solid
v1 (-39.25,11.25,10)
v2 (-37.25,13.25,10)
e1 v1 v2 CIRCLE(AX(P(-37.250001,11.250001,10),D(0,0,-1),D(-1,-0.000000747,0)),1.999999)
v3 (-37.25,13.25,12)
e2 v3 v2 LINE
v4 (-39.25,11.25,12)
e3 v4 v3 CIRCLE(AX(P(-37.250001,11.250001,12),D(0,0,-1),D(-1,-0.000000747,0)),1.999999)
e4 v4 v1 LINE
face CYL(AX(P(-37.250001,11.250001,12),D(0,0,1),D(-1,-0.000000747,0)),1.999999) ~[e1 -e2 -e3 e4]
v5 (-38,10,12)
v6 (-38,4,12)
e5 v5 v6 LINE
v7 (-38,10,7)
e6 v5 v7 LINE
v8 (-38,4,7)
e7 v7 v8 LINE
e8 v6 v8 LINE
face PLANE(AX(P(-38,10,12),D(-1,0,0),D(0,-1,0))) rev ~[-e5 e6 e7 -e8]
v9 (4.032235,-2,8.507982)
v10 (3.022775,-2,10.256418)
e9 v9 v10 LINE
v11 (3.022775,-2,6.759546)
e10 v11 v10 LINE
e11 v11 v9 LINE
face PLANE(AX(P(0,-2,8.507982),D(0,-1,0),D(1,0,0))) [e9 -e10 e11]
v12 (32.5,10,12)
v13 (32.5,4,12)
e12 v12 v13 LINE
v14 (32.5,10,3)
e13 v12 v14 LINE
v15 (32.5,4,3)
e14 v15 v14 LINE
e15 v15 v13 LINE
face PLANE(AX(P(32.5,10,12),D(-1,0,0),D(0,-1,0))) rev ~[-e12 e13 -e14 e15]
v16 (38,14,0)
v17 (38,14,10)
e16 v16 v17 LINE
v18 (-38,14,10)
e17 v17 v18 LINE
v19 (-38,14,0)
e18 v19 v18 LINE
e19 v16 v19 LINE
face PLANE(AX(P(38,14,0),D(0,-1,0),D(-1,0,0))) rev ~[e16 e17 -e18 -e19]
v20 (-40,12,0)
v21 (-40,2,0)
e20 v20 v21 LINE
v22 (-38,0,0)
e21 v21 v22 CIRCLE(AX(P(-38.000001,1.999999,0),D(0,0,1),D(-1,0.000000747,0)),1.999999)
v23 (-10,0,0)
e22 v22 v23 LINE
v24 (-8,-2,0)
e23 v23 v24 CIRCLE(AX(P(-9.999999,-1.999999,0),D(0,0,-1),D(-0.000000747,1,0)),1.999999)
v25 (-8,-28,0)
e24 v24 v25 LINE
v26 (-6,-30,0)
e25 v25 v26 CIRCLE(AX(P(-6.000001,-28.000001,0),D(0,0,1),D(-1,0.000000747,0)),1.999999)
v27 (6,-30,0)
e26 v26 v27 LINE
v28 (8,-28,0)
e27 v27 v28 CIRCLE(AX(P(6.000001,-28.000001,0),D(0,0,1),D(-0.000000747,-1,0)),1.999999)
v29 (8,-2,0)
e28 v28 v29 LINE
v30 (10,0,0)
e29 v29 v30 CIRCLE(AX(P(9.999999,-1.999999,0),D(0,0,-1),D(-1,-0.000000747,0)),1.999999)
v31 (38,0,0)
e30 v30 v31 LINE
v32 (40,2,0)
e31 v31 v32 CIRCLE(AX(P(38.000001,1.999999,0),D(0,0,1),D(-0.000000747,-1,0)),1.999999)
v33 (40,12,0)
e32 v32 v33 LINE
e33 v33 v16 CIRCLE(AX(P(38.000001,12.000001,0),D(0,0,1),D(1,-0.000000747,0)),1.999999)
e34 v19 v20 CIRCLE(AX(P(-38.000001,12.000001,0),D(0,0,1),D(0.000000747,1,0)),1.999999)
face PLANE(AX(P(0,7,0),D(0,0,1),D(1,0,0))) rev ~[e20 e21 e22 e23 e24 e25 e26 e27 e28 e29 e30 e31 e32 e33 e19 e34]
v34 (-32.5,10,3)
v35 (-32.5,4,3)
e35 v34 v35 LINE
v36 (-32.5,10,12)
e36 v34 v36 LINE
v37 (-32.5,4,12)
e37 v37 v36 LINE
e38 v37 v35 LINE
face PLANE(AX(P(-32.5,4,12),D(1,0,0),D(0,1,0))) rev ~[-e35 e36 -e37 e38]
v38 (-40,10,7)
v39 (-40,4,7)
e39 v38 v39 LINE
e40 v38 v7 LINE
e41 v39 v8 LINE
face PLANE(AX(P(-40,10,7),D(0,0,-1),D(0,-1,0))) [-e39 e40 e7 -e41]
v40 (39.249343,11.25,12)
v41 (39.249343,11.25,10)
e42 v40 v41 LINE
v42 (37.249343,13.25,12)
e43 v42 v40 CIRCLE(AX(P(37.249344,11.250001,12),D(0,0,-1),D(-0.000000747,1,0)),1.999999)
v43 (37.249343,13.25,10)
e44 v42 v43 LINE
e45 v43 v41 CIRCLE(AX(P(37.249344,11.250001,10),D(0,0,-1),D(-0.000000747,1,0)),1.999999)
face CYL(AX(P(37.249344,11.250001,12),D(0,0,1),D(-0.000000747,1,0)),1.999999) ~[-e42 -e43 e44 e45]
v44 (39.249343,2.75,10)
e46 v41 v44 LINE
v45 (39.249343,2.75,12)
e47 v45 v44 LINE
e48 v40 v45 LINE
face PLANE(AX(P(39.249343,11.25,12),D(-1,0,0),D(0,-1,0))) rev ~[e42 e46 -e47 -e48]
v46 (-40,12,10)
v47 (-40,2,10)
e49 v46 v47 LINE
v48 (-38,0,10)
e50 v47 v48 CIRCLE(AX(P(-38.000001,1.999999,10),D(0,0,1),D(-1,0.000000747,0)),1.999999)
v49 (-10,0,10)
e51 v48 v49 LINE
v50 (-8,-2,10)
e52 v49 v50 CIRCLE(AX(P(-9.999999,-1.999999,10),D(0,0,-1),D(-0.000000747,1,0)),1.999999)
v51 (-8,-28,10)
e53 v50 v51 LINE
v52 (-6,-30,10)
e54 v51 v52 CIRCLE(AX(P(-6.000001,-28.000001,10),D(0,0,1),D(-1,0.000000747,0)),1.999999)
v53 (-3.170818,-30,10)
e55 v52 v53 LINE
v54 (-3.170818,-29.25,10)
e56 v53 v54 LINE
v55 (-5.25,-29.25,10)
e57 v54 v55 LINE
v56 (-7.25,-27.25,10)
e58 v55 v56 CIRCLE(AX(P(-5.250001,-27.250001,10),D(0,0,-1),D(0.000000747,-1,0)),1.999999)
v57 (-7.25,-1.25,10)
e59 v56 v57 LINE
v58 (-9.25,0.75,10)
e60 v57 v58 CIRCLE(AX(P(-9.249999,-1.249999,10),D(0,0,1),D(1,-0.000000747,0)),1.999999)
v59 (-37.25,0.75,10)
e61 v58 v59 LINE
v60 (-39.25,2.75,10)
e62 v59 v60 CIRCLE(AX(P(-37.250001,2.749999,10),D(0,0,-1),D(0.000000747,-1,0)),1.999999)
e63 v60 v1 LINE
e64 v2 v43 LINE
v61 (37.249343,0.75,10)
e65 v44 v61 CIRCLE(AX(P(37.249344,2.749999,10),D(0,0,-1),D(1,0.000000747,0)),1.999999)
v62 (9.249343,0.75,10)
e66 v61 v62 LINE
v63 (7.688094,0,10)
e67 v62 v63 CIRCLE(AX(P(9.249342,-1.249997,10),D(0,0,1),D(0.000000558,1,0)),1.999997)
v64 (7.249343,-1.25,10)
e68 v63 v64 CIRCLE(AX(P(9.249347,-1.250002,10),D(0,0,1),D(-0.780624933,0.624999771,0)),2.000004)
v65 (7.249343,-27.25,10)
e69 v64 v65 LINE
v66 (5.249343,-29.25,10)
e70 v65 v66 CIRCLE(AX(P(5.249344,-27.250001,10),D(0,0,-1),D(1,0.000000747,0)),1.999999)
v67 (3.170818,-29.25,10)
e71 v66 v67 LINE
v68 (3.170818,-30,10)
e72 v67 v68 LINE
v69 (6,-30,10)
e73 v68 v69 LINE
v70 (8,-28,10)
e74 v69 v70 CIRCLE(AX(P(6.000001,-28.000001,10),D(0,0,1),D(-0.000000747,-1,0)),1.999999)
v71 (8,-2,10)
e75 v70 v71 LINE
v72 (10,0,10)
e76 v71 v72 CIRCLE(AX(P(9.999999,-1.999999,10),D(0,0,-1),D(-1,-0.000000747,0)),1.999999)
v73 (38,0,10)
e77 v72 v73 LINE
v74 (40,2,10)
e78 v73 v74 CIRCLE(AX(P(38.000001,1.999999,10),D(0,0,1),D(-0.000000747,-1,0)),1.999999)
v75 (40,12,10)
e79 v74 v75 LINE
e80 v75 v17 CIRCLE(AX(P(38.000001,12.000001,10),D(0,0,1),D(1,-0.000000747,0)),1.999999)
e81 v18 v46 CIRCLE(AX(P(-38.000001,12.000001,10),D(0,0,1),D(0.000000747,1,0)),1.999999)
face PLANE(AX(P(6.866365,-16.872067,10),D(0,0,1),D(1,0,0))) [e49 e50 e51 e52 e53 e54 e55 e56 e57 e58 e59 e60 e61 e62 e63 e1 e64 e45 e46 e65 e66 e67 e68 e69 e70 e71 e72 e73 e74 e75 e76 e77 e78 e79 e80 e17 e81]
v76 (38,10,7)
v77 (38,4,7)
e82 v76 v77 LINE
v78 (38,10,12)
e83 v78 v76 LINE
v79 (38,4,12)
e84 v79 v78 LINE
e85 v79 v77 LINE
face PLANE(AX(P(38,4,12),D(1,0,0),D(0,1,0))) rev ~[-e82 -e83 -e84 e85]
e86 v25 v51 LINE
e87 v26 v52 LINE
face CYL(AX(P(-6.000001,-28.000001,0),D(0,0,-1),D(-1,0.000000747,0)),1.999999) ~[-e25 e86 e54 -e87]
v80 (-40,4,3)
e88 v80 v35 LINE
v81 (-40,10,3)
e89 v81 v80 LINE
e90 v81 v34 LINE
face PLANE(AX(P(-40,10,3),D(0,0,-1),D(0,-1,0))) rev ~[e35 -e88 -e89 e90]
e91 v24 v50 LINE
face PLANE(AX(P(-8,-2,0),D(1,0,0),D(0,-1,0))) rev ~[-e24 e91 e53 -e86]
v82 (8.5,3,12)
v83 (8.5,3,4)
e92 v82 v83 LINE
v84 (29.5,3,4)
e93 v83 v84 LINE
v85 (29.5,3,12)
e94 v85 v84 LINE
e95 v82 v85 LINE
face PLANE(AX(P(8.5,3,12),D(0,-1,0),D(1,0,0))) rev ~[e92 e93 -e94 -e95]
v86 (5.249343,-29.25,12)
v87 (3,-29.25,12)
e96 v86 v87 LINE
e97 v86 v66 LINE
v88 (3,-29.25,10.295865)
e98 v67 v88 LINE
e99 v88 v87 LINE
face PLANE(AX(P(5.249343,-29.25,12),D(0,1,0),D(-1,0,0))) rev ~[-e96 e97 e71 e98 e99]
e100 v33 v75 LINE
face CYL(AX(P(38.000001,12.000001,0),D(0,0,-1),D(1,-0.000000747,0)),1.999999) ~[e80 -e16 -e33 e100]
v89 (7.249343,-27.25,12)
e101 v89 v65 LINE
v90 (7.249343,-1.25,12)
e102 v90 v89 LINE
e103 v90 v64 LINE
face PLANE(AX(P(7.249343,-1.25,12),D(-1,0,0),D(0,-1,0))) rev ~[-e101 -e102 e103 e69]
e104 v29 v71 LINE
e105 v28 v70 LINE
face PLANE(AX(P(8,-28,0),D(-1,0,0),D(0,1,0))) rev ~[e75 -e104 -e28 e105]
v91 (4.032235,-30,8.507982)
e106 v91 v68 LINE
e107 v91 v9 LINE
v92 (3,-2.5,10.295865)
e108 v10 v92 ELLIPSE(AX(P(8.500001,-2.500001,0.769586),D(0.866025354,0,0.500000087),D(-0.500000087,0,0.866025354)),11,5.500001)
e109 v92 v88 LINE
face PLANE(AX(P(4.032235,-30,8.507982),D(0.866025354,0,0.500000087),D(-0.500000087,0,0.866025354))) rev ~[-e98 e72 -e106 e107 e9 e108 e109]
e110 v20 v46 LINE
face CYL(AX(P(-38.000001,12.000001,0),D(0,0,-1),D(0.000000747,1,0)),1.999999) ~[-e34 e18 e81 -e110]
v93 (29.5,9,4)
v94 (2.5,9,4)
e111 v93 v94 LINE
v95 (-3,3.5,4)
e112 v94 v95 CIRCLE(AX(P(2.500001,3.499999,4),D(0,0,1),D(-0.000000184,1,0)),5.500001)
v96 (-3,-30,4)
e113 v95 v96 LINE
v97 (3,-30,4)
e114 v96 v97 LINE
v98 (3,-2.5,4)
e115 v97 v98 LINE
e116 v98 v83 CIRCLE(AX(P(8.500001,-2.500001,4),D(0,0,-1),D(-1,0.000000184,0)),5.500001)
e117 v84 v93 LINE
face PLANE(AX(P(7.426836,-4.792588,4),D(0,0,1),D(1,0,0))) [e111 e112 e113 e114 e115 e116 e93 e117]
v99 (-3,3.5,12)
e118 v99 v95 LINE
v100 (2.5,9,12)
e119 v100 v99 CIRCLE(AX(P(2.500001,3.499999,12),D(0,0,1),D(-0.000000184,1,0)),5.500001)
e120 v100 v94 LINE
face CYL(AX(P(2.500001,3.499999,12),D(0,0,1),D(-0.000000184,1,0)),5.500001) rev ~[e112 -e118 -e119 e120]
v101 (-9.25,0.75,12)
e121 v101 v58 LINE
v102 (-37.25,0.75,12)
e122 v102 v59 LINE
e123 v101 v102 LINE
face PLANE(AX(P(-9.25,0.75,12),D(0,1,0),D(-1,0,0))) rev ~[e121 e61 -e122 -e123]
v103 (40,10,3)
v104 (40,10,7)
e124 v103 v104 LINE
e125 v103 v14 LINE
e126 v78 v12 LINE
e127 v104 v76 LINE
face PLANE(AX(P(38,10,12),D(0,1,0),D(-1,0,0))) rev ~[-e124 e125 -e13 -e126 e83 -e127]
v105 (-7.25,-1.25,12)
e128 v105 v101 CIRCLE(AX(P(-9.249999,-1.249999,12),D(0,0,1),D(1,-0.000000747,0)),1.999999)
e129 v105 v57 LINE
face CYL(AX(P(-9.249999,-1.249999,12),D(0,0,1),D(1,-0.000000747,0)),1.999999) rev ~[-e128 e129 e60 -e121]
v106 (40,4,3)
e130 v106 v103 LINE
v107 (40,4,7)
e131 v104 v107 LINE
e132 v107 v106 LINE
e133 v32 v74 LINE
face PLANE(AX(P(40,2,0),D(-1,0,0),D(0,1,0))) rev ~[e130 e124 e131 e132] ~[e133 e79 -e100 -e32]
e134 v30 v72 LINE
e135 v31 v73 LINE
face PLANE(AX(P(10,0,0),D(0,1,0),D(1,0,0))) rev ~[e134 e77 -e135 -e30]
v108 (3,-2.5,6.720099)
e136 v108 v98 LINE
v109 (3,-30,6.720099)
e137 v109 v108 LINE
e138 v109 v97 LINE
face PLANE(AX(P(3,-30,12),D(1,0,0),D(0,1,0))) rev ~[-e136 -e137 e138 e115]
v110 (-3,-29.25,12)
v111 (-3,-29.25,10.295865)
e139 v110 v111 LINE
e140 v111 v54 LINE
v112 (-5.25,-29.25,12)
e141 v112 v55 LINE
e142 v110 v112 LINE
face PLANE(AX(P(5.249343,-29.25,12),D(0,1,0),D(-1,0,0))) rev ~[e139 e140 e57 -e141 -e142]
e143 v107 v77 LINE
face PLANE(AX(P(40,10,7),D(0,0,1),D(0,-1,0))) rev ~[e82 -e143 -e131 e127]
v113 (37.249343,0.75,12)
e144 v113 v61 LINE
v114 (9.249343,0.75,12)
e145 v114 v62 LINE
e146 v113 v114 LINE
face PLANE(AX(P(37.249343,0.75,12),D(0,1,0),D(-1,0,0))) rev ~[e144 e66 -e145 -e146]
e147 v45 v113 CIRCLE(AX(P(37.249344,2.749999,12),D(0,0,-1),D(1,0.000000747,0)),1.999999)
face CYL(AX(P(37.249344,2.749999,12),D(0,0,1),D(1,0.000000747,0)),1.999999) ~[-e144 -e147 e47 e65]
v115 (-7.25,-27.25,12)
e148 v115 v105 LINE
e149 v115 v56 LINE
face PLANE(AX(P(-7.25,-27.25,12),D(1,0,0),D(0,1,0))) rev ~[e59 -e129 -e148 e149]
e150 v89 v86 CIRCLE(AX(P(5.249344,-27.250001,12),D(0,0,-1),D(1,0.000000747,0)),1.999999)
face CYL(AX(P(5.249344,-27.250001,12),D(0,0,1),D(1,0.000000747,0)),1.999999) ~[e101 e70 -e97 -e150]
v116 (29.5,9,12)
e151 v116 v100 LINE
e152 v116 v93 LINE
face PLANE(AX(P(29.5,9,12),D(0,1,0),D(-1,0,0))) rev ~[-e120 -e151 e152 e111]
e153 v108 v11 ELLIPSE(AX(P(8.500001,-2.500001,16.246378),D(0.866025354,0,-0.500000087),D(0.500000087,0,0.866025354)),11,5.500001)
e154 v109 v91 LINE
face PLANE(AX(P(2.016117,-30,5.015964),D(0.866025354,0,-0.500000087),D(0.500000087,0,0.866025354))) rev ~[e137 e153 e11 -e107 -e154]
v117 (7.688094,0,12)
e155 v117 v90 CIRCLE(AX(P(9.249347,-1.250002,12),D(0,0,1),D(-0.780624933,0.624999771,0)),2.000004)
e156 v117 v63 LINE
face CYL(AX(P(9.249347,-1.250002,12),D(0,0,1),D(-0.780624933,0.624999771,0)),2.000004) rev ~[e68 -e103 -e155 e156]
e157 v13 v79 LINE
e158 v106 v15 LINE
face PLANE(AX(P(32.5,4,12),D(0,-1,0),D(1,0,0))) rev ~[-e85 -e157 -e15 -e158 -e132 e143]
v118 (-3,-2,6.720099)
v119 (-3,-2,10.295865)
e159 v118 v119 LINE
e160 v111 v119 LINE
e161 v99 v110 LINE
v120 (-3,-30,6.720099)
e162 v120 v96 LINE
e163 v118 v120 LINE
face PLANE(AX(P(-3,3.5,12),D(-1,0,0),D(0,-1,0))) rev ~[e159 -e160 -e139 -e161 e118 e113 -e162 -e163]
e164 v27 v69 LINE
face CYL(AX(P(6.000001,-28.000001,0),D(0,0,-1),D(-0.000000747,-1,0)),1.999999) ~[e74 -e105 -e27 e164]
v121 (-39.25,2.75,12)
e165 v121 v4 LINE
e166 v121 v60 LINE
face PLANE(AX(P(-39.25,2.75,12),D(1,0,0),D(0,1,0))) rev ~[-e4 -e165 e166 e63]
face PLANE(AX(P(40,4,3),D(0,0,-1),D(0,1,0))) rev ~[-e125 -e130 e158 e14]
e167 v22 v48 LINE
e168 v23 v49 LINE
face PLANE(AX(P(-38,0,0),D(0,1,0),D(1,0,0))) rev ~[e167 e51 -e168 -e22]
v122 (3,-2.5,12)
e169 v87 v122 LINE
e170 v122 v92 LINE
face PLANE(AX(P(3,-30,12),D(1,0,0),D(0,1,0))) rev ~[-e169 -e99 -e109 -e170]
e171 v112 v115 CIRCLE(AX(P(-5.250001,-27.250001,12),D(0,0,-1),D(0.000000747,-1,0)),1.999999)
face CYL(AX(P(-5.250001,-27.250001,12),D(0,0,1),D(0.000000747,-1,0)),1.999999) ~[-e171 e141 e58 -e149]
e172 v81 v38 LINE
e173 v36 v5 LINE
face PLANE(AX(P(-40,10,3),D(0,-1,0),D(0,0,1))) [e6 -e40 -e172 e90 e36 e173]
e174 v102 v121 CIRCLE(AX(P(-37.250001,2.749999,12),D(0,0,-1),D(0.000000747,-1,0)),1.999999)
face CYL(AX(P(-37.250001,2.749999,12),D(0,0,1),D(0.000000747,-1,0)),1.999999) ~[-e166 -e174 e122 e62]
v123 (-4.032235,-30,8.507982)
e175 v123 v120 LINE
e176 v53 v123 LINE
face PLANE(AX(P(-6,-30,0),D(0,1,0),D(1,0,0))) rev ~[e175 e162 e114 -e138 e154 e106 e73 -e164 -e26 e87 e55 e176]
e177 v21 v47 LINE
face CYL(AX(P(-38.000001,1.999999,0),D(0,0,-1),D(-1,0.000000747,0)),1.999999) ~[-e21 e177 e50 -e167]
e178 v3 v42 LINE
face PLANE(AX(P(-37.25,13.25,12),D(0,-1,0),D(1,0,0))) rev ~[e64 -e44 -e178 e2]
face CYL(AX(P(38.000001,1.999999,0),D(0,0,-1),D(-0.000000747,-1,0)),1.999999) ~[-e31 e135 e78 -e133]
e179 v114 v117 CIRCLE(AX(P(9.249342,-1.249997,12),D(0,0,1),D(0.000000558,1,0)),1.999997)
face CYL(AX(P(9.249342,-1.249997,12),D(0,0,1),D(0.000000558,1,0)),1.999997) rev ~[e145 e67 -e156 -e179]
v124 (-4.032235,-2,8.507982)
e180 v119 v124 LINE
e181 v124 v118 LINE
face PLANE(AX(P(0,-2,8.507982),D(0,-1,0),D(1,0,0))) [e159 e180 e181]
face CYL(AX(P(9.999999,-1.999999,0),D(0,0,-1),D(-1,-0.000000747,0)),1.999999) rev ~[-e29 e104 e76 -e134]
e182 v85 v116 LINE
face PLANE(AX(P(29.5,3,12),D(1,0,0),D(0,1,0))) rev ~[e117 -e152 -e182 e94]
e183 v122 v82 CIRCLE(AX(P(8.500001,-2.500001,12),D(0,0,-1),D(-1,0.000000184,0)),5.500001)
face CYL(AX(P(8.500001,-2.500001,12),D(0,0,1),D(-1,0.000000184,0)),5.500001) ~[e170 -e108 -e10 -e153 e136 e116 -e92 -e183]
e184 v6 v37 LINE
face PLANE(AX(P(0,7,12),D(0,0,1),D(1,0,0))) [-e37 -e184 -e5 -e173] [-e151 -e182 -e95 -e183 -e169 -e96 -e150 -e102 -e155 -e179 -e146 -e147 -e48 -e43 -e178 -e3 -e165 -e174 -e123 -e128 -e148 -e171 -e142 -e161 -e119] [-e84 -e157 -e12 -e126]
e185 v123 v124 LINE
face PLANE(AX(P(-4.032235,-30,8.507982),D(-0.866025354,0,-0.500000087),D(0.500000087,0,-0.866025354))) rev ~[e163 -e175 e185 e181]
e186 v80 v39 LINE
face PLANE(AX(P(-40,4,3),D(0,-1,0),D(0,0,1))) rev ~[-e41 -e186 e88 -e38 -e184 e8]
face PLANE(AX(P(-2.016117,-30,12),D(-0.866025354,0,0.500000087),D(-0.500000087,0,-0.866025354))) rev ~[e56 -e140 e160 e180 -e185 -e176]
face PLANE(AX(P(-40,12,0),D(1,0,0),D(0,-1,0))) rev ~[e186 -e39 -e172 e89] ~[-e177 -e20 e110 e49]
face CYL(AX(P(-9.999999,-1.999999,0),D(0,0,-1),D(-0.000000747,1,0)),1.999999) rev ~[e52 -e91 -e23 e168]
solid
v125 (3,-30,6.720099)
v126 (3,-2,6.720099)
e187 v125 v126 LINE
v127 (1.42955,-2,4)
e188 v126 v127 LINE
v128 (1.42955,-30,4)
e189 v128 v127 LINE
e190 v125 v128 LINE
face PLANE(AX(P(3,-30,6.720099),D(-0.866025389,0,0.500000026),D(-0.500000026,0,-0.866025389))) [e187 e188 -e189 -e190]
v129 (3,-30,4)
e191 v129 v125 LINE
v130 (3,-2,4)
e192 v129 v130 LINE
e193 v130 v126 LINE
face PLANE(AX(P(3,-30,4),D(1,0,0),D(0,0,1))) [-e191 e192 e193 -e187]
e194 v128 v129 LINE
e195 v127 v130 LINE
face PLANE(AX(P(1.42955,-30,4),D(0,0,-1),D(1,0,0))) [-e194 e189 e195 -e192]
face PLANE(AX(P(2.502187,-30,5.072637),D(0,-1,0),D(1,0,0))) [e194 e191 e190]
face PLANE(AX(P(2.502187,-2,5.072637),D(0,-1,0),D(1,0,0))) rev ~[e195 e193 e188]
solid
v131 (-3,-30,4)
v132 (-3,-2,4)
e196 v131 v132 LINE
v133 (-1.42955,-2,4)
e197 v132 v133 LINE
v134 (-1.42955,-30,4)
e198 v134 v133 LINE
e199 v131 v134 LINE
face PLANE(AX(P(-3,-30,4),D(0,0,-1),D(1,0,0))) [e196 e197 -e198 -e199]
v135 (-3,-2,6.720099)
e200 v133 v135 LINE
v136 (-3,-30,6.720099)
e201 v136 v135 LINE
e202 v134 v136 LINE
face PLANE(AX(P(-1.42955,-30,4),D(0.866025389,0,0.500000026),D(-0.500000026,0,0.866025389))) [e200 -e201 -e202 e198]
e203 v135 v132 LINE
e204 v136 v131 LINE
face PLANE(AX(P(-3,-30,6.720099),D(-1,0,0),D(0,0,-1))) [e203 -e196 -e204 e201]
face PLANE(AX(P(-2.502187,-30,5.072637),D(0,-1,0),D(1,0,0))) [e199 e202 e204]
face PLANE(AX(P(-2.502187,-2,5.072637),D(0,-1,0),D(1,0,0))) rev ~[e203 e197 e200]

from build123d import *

# Parameters (mm, degrees)
F1_DEPTH  = 12
F3_DEPTH  = 8
F5_DEPTH  = 28
F7_DEPTH  = 28
F9_DEPTH  = 8
F11_DEPTH = 7.5
F12_W     = 6
F12_H     = 4
F13_DEPTH = 7.5
F15_DEPTH = 2


with BuildPart() as f1:
    # F0 (on Top) → F1 (new body)
    with BuildSketch(Plane.XY):
        with BuildLine():
            Line((0, 0), (10, 0))
            Line((10, 0), (35, 0))
            ThreePointArc((35, 0), (36.414214, 0.585786), (37, 2))
            Line((37, 2), (37, 12))
            ThreePointArc((37, 12), (36.414214, 13.414214), (35, 14))
            Line((35, 14), (-35, 14))
            ThreePointArc((-35, 14), (-36.414214, 13.414214), (-37, 12))
            Line((-37, 12), (-37, 2))
            ThreePointArc((-37, 2), (-36.414214, 0.585786), (-35, 0))
            Line((-35, 0), (-10, 0))
            Line((-10, 0), (0, 0))
        make_face()
        with BuildLine():
            Line((-38, 0), (-35, 0))
            ThreePointArc((-35, 0), (-36.414214, 0.585786), (-37, 2))
            Line((-37, 2), (-37, 12))
            ThreePointArc((-37, 12), (-36.414214, 13.414214), (-35, 14))
            Line((-35, 14), (-38, 14))
            ThreePointArc((-38, 14), (-39.414214, 13.414214), (-40, 12))
            Line((-40, 12), (-40, 2))
            ThreePointArc((-40, 2), (-39.414214, 0.585786), (-38, 0))
        make_face()
        with BuildLine():
            ThreePointArc((37, 2), (36.414214, 0.585786), (35, 0))
            Line((35, 0), (38, 0))
            ThreePointArc((38, 0), (39.414214, 0.585786), (40, 2))
            Line((40, 2), (40, 12))
            ThreePointArc((40, 12), (39.414214, 13.414214), (38, 14))
            Line((38, 14), (35, 14))
            ThreePointArc((35, 14), (36.414214, 13.414214), (37, 12))
            Line((37, 12), (37, 2))
        make_face()
        with BuildLine():
            ThreePointArc((8, -2), (8.585786, -0.585786), (10, 0))
            Line((10, 0), (0, 0))
            Line((0, 0), (-10, 0))
            ThreePointArc((-10, 0), (-8.585786, -0.585786), (-8, -2))
            Line((-8, -2), (-8, -28))
            ThreePointArc((-8, -28), (-7.414214, -29.414214), (-6, -30))
            Line((-6, -30), (6, -30))
            ThreePointArc((6, -30), (7.414214, -29.414214), (8, -28))
            Line((8, -28), (8, -2))
        make_face()
    extrude(amount=F1_DEPTH)

    # F2 (on face) → F3 (cut)
    with BuildSketch(Plane.XY.offset(12)):
        with BuildLine():
            Line((29.5, 3), (29.5, 9))
            Line((29.5, 9), (2.5, 9))
            ThreePointArc((2.5, 9), (-1.389087, 7.389087), (-3, 3.5))
            Line((-3, 3.5), (-3, -30))
            Line((-3, -30), (3, -30))
            Line((3, -30), (3, -2.5))
            ThreePointArc((3, -2.5), (4.610913, 1.389087), (8.5, 3))
            Line((8.5, 3), (29.5, 3))
        make_face()
    extrude(amount=-F3_DEPTH, mode=Mode.SUBTRACT)

    # F4 (on face) → F5 (cut)
    with BuildSketch(Plane.XZ.offset(30)):
        Polygon((-2.016117, 5.015964), (2.016117, 5.015964), (4.032235, 8.507982), (2.016117, 12), (-2.016117, 12), (-4.032235, 8.507982), align=None)
    extrude(amount=-F5_DEPTH, mode=Mode.SUBTRACT)

    # F8 (on face) → F9 (cut)
    with BuildSketch(Plane.XY.offset(12)):
        Polygon((32.5, 4), (35, 4), (38, 4), (38, 10), (35, 10), (33, 10), (32.5, 10), (32.5, 4.626769), align=None)
        Polygon((-38, 4), (-35, 4), (-33, 4), (-32.5, 4), (-32.5, 10), (-33, 10), (-35, 10), (-38, 10), align=None)
    extrude(amount=-F9_DEPTH, mode=Mode.SUBTRACT)

    # F10 (on face) → F11 (cut, through all)
    with BuildSketch(Plane.YZ.offset(40)):
        Polygon((10, 7), (4, 7), (4, 4), (4, 3), (10, 3), (10, 4), (10, 5), align=None)
    extrude(amount=-F11_DEPTH, mode=Mode.SUBTRACT)

    # F12 (on face) → F13 (cut, through all)
    with BuildSketch(Plane(origin=(-40, 0, 0), x_dir=(0, -1, 0), z_dir=(-1, 0, 0))):
        with Locations((-7, 5)):
            Rectangle(F12_W, F12_H)
    extrude(amount=-F13_DEPTH, mode=Mode.SUBTRACT)

    # F14 (on face) → F15 (cut)
    with BuildSketch(Plane.XY.offset(12)):
        with BuildLine():
            Line((5.249343, -29.25), (0, -29.25))
            Line((0, -29.25), (0, -30))
            Line((0, -30), (4.179587, -30))
            Line((4.179587, -30), (6, -30))
            ThreePointArc((6, -30), (7.414214, -29.414214), (8, -28))
            Line((8, -28), (8, -6.407865))
            Line((8, -6.407865), (8, -2))
            ThreePointArc((8, -2), (8.585786, -0.585786), (10, 0))
            Line((10, 0), (7.688094, 0))
            ThreePointArc((7.688094, 0), (7.362216, -0.587618), (7.249343, -1.25))
            Line((7.249343, -1.25), (7.249343, -27.25))
            ThreePointArc((7.249343, -27.25), (6.663557, -28.664214), (5.249343, -29.25))
        make_face()
        with BuildLine():
            Line((0, -30), (0, -29.25))
            Line((0, -29.25), (-5.25, -29.25))
            ThreePointArc((-5.25, -29.25), (-6.664214, -28.664214), (-7.25, -27.25))
            Line((-7.25, -27.25), (-7.25, -1.25))
            ThreePointArc((-7.25, -1.25), (-7.835786, 0.164214), (-9.25, 0.75))
            Line((-9.25, 0.75), (-32.738585, 0.75))
            Line((-32.738585, 0.75), (-37.25, 0.75))
            ThreePointArc((-37.25, 0.75), (-38.664214, 1.335786), (-39.25, 2.75))
            Line((-39.25, 2.75), (-39.25, 11.25))
            ThreePointArc((-39.25, 11.25), (-38.664214, 12.664214), (-37.25, 13.25))
            Line((-37.25, 13.25), (37.249343, 13.25))
            ThreePointArc((37.249343, 13.25), (38.663557, 12.664214), (39.249343, 11.25))
            Line((39.249343, 11.25), (39.249343, 2.75))
            ThreePointArc((39.249343, 2.75), (38.663557, 1.335786), (37.249343, 0.75))
            Line((37.249343, 0.75), (9.249343, 0.75))
            ThreePointArc((9.249343, 0.75), (8.383318, 0.552776), (7.688094, 0))
            Line((7.688094, 0), (10, 0))
            Line((10, 0), (38, 0))
            ThreePointArc((38, 0), (39.414214, 0.585786), (40, 2))
            Line((40, 2), (40, 12))
            ThreePointArc((40, 12), (39.414214, 13.414214), (38, 14))
            Line((38, 14), (-38, 14))
            ThreePointArc((-38, 14), (-39.414214, 13.414214), (-40, 12))
            Line((-40, 12), (-40, 2))
            ThreePointArc((-40, 2), (-39.414214, 0.585786), (-38, 0))
            Line((-38, 0), (-32.738585, 0))
            Line((-32.738585, 0), (-10, 0))
            ThreePointArc((-10, 0), (-8.585786, -0.585786), (-8, -2))
            Line((-8, -2), (-8, -28))
            ThreePointArc((-8, -28), (-7.414214, -29.414214), (-6, -30))
            Line((-6, -30), (0, -30))
        make_face()
    extrude(amount=-F15_DEPTH, mode=Mode.SUBTRACT)


with BuildPart() as f7:
    # F6 (on face) → F7 (new body)
    with BuildSketch(Plane.XZ.offset(30)):
        Polygon((-1.42955, 4), (-3, 6.720099), (-3, 4), align=None)
        Polygon((3, 4), (3, 6.720099), (1.42955, 4), align=None)
    extrude(amount=-F7_DEPTH)


solid = Compound([f1.part, f7.part])
